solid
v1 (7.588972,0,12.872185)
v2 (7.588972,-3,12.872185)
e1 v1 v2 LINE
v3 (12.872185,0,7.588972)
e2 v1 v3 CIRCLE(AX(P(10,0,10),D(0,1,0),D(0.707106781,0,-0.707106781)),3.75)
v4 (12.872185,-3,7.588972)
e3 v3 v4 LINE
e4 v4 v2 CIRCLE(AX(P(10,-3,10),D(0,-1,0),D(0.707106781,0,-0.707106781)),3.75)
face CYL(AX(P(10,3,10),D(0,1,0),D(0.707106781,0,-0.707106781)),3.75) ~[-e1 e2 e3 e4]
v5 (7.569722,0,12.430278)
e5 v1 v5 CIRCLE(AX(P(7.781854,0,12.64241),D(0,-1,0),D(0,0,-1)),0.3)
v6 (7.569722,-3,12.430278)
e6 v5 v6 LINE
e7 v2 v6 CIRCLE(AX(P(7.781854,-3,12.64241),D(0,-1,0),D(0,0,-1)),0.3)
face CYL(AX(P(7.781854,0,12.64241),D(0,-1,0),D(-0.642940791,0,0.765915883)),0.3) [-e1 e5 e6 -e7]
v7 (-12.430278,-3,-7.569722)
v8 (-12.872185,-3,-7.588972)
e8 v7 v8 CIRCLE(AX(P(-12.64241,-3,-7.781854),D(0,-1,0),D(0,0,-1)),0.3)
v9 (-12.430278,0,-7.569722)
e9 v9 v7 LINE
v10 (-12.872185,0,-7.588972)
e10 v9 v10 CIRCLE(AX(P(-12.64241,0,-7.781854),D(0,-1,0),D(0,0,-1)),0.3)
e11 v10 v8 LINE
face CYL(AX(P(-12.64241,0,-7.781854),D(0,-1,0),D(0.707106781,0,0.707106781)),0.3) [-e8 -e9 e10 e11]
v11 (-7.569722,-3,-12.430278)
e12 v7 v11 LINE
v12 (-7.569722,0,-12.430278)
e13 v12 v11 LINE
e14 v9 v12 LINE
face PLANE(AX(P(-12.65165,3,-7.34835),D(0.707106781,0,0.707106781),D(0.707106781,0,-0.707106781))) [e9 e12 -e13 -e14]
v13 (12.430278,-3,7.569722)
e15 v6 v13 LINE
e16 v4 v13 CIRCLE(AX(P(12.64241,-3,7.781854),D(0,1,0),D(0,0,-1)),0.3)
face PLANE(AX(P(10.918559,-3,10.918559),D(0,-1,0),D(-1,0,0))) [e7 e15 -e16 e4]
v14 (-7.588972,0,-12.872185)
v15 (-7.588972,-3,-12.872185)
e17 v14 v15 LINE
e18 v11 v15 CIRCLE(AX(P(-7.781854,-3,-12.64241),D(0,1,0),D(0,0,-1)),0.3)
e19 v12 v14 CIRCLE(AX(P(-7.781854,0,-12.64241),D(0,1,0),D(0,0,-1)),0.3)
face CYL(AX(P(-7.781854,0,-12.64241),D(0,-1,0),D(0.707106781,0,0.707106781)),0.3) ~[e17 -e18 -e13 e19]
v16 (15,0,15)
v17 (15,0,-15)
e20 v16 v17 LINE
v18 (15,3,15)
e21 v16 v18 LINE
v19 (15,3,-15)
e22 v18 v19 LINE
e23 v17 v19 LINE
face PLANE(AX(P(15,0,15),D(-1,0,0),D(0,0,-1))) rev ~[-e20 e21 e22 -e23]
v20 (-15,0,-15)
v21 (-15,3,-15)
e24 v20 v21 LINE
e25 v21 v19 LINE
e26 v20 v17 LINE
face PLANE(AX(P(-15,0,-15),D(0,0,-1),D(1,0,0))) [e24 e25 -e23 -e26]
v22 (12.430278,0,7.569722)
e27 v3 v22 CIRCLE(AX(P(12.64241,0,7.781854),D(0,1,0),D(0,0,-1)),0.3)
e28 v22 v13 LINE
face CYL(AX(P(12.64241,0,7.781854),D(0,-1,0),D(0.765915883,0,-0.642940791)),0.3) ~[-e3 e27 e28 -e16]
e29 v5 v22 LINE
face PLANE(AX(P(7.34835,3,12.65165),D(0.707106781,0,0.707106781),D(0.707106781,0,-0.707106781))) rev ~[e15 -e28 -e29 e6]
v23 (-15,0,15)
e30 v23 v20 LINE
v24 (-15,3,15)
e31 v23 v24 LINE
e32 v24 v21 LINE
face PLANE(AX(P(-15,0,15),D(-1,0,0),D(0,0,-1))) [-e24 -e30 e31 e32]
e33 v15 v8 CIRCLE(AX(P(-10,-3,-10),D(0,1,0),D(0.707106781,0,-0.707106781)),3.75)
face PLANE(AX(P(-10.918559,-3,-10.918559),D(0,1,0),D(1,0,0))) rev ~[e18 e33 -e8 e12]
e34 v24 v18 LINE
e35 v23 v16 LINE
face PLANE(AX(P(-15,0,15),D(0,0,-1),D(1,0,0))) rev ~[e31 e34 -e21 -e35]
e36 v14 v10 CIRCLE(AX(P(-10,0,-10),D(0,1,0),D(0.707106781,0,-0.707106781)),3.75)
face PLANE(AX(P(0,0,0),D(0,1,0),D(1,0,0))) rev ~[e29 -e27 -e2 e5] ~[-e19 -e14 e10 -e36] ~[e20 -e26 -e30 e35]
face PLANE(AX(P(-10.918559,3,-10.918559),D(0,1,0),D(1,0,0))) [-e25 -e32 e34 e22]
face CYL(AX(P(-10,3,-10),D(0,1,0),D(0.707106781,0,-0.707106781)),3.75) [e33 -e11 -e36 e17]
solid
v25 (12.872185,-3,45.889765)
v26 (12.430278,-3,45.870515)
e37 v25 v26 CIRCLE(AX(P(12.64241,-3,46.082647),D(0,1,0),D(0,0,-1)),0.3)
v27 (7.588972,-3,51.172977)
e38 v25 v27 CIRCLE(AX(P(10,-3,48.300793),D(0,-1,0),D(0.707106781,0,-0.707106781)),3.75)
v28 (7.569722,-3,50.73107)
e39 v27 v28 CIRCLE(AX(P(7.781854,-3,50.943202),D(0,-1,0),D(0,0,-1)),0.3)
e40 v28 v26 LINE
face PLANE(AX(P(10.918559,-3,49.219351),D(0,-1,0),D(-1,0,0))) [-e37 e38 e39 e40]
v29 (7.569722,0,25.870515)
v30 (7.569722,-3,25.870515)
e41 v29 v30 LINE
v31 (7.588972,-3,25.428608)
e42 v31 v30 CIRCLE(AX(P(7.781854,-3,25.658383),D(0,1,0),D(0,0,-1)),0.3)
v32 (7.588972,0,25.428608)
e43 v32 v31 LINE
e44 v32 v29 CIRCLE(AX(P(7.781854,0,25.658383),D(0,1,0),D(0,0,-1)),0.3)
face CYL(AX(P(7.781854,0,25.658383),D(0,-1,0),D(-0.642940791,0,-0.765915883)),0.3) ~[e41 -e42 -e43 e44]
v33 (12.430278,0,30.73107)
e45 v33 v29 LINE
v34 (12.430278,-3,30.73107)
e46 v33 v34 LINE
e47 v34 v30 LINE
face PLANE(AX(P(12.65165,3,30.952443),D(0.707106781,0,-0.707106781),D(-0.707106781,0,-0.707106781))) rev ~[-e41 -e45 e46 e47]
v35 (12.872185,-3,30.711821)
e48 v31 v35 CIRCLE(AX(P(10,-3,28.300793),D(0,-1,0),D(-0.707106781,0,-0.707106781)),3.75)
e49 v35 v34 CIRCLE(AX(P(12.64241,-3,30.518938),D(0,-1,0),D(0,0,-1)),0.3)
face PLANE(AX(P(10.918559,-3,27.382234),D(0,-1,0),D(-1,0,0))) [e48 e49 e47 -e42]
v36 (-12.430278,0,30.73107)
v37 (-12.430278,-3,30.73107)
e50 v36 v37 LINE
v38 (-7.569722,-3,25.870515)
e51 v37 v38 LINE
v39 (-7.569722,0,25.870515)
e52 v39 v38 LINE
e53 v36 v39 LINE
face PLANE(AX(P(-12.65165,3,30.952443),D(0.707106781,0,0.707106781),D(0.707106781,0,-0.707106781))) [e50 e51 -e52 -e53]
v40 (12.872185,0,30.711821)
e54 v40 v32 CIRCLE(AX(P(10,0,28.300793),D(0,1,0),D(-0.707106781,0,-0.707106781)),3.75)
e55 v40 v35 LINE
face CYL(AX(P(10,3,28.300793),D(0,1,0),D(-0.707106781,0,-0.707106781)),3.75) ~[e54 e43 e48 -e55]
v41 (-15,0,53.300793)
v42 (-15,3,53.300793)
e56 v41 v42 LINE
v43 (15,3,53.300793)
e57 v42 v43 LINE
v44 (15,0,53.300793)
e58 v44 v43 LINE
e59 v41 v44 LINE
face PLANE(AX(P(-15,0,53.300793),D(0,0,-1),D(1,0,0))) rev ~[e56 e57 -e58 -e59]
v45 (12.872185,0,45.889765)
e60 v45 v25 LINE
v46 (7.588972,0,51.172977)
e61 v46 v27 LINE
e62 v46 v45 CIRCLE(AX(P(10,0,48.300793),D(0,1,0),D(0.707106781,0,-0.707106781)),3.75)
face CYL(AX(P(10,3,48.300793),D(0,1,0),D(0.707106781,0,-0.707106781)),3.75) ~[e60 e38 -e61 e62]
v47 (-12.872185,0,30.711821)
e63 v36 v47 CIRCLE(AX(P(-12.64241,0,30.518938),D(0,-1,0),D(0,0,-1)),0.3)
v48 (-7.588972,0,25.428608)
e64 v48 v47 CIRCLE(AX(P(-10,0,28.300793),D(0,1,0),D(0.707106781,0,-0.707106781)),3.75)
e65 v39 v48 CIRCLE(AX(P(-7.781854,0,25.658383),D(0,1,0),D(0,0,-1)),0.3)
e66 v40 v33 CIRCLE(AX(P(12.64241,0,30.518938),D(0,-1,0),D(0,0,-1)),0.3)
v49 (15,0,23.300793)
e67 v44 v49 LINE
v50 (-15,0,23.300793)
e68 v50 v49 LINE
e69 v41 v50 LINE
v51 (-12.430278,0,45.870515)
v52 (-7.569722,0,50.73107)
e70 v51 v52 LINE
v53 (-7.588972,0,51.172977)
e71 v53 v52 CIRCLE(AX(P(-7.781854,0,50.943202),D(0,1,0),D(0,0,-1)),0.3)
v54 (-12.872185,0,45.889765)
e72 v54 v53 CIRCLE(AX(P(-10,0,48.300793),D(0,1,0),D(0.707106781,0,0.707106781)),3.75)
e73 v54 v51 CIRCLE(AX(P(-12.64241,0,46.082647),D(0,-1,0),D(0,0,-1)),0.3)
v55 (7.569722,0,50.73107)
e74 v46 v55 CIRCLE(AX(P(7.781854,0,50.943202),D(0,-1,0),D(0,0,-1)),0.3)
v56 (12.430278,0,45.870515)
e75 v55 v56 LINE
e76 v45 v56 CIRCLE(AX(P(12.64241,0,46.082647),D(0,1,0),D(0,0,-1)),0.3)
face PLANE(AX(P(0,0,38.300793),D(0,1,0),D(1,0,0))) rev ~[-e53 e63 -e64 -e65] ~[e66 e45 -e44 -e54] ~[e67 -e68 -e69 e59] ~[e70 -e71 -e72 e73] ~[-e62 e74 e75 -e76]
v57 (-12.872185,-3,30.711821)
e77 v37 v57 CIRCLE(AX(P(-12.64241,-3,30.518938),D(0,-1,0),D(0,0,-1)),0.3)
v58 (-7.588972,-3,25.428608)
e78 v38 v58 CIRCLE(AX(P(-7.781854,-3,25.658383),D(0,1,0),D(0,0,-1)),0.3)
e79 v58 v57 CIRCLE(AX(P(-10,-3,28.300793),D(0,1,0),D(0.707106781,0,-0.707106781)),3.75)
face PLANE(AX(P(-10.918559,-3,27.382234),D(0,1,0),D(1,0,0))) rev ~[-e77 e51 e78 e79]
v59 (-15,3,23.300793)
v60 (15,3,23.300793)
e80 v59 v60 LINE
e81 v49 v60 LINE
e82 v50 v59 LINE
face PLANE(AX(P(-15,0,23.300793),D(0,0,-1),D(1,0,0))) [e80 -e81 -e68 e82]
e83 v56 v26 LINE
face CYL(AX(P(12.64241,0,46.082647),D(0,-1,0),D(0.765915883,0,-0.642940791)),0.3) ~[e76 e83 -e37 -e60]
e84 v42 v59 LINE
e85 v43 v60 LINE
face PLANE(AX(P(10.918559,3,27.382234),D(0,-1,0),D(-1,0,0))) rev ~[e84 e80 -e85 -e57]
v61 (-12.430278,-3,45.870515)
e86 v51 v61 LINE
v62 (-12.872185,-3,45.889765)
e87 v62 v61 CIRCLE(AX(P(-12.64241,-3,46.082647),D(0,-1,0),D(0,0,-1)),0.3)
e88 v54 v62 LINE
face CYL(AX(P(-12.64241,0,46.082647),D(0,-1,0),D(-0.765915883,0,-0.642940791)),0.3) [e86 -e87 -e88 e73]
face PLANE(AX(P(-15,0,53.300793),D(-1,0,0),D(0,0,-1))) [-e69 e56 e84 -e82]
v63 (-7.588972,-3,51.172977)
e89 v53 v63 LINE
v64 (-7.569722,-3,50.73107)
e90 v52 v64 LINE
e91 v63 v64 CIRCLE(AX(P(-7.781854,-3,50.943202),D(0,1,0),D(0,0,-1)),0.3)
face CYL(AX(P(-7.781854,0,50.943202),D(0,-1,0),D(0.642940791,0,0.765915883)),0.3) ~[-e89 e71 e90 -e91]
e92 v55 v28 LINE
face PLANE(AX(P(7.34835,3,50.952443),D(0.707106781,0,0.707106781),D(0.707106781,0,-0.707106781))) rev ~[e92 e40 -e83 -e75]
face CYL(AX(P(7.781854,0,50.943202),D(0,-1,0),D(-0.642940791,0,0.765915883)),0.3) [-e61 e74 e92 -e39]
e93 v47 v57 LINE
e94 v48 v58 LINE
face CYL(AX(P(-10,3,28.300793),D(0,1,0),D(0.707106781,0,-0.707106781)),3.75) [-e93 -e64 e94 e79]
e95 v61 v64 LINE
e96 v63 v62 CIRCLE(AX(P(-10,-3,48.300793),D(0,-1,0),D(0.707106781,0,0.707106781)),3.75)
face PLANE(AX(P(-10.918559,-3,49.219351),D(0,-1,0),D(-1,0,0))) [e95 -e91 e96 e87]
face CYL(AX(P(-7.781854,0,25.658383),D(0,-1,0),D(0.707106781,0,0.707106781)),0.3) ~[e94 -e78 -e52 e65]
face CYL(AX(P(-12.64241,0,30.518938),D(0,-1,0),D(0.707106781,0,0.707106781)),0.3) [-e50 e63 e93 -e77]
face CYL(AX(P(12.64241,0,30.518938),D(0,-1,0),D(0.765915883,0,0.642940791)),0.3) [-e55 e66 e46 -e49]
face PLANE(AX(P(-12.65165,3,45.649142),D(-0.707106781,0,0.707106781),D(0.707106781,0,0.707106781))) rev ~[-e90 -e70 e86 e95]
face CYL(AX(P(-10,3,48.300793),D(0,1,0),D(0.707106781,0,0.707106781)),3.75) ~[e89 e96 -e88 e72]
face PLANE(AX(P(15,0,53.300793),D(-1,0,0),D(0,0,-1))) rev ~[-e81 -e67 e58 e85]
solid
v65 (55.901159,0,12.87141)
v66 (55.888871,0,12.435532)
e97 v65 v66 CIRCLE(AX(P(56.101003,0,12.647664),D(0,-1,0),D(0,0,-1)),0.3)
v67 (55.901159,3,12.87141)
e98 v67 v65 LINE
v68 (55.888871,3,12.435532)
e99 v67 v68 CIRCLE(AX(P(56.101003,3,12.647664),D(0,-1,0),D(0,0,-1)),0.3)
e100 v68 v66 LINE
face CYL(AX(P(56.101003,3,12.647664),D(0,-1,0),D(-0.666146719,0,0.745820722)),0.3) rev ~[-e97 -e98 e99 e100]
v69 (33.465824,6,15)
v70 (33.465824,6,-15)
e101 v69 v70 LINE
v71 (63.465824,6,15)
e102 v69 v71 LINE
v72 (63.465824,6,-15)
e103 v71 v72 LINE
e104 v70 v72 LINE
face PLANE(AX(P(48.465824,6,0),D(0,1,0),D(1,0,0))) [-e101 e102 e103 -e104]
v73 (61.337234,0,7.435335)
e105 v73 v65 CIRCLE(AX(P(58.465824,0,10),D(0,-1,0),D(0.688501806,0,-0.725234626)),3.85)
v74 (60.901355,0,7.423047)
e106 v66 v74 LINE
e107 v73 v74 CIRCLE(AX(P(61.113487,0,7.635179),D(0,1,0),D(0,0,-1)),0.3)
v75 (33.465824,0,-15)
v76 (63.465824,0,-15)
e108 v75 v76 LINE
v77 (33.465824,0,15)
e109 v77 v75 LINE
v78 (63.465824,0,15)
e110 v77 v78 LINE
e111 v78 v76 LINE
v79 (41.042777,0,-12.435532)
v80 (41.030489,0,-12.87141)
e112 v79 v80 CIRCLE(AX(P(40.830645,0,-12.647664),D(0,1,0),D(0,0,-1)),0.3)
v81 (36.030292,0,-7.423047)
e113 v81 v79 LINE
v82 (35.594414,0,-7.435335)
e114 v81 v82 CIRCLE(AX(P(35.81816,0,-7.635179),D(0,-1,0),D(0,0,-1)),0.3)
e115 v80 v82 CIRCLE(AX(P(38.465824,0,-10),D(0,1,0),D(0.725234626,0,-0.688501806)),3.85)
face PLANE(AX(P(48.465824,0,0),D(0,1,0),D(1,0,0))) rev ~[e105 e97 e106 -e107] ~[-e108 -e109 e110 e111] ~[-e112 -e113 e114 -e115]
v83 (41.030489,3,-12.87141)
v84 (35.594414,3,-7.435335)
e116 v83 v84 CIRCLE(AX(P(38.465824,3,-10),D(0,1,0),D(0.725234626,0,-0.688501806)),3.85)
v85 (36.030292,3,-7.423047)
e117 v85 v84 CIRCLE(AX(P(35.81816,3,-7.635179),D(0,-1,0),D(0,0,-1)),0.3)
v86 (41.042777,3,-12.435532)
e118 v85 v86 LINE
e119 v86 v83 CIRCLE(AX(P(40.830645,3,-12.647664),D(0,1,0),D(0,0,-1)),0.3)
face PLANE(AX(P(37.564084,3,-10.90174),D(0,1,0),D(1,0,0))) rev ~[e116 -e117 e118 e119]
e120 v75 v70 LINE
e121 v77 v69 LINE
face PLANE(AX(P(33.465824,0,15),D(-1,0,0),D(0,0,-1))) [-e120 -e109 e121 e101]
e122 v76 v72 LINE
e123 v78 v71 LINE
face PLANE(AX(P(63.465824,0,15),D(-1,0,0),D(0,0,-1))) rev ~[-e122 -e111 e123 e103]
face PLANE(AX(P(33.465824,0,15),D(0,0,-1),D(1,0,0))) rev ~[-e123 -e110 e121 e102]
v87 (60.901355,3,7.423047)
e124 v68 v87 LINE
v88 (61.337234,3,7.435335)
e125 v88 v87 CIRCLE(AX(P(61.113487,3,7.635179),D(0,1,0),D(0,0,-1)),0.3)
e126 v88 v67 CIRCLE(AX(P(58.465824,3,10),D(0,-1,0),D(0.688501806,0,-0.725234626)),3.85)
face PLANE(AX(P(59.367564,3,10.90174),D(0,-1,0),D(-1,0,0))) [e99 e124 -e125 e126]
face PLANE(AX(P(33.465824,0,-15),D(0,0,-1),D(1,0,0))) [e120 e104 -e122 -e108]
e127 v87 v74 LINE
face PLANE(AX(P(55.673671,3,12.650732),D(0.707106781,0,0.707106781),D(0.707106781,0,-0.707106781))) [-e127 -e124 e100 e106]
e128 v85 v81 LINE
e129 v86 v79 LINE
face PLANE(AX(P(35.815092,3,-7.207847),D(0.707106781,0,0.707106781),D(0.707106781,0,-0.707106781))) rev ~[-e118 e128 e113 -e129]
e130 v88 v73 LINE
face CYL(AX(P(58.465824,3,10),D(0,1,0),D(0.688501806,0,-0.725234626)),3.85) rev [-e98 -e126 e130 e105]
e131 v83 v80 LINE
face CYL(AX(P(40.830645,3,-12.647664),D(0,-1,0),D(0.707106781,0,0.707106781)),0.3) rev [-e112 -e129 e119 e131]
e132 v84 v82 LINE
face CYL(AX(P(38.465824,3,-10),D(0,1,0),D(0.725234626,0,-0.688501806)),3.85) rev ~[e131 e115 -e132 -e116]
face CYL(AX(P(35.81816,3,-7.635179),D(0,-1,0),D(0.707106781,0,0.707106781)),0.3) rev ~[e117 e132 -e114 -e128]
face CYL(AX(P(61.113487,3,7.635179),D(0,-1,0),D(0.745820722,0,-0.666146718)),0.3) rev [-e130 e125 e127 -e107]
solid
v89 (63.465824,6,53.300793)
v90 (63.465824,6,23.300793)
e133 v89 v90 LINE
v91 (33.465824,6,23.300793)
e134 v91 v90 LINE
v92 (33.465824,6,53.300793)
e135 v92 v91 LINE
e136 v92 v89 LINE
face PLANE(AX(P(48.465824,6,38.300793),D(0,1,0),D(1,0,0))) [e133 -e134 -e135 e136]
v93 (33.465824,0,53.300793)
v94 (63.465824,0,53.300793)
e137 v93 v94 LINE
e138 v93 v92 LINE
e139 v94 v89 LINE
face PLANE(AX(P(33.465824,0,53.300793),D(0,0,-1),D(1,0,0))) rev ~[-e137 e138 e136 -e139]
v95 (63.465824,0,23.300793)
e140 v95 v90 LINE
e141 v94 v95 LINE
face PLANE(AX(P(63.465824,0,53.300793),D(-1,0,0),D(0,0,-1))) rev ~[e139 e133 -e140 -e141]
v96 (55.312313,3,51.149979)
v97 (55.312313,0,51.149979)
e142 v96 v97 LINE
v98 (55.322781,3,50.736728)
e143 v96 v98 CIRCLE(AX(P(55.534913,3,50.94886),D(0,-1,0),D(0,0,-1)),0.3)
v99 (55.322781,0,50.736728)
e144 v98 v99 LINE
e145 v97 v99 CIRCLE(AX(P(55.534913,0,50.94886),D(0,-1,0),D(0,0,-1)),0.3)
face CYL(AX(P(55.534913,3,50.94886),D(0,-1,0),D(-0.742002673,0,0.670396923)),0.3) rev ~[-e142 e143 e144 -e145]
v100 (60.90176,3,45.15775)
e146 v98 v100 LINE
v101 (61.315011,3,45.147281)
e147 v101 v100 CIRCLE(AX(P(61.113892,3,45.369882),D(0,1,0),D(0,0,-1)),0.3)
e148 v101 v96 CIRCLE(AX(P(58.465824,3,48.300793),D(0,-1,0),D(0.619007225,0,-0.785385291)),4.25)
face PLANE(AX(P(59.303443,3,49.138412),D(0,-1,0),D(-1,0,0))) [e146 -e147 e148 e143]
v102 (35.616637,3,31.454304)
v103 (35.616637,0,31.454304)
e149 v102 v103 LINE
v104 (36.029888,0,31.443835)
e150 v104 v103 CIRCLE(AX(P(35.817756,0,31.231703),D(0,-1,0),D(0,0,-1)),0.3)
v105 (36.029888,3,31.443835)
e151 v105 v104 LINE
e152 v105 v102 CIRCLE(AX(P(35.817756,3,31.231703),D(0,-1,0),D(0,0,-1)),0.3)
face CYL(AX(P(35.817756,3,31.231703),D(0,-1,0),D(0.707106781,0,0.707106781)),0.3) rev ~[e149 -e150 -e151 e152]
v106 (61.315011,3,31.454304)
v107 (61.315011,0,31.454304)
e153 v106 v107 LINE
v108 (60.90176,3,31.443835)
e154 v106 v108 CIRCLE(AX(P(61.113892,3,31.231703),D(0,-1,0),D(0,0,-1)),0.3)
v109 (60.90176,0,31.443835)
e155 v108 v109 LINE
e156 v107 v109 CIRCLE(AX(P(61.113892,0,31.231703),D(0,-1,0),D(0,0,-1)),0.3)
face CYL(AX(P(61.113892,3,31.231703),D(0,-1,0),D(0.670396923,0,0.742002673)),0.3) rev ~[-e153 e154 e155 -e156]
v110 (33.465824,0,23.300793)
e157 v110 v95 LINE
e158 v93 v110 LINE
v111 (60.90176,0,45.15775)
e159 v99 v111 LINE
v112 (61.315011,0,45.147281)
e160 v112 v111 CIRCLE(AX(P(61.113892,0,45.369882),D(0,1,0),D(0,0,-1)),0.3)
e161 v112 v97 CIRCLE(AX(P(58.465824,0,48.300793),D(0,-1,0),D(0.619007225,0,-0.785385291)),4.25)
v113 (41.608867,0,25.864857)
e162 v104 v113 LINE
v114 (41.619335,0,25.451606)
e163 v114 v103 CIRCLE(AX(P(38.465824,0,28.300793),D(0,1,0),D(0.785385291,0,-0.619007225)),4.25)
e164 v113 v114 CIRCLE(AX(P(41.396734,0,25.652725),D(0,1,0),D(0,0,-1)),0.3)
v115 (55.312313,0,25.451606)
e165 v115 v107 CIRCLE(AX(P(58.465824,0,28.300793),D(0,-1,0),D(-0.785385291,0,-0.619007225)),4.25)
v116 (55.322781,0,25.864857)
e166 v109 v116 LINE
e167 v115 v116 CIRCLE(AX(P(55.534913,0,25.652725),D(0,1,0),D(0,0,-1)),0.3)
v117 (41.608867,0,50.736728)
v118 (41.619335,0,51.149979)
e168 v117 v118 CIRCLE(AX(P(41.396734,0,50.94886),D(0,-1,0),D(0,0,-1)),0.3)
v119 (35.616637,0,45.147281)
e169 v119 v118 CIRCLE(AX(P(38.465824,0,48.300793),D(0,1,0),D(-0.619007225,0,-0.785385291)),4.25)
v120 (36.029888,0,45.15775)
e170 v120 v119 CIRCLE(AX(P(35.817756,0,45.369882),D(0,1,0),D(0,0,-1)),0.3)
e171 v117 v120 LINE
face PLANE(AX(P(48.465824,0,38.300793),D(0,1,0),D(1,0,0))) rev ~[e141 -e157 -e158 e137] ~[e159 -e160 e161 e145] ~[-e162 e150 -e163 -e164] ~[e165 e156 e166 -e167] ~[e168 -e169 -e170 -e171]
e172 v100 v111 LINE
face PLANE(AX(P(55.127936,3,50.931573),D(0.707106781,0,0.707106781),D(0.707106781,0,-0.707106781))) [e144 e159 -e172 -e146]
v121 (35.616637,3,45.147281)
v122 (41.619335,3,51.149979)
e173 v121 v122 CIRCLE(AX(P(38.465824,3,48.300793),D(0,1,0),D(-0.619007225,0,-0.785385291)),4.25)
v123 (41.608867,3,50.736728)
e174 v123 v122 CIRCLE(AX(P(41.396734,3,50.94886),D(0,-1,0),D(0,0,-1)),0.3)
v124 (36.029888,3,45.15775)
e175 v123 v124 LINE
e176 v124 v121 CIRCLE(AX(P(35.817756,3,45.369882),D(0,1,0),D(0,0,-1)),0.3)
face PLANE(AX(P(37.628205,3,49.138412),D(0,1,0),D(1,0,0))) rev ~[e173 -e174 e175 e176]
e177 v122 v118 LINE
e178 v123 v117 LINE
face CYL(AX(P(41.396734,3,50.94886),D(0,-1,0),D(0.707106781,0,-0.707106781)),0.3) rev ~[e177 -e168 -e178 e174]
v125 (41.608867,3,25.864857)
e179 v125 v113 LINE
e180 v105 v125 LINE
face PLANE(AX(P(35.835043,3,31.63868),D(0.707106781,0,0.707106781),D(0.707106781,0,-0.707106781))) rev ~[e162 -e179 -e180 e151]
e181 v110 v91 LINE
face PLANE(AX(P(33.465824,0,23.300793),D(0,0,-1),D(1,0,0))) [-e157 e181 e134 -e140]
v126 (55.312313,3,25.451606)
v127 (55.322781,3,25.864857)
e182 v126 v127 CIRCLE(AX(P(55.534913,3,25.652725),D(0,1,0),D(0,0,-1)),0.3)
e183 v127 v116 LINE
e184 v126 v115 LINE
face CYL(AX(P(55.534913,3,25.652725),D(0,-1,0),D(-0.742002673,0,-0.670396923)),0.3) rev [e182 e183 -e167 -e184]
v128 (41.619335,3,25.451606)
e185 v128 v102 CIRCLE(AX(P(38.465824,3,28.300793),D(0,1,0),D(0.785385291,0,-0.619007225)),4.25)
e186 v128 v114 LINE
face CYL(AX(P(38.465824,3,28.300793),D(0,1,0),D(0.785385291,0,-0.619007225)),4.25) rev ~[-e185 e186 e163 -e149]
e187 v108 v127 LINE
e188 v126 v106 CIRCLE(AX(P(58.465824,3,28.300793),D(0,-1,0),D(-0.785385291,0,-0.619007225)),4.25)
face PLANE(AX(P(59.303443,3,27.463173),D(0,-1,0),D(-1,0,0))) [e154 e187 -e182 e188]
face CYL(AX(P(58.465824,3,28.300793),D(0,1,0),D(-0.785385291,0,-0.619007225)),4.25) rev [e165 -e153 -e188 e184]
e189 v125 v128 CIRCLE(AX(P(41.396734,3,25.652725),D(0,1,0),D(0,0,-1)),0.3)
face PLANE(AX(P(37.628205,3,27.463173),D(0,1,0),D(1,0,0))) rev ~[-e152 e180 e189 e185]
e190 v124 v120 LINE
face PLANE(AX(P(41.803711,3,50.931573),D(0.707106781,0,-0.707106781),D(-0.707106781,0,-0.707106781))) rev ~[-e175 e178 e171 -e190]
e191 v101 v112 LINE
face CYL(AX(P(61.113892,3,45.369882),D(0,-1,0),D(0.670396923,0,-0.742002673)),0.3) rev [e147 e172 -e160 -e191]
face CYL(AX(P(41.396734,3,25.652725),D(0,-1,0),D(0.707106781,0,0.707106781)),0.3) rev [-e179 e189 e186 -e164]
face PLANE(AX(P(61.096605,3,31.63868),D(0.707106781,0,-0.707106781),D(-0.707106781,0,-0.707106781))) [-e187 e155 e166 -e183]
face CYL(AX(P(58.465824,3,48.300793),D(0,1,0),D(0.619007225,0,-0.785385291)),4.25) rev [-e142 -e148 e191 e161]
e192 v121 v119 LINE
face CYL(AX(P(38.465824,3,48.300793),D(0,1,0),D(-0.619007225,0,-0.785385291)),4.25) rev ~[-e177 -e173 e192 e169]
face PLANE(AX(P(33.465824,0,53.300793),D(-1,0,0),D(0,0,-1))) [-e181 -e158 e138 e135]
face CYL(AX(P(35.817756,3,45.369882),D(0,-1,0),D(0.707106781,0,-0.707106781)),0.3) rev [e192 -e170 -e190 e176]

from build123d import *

# Parameters (mm, degrees)
SKETCH3_W           = 30
SKETCH3_H           = 30
BOSS_EXTRUDE1_DEPTH = 3
BOSS_EXTRUDE2_DEPTH = 6
SKETCH5_W           = 30
SKETCH5_H           = 30
BOSS_EXTRUDE4_DEPTH = 6
FILLET3_R           = 0.3
CUT_EXTRUDE2_START  = -3
CUT_EXTRUDE2_DEPTH  = 3
SKETCH17_W          = 30
SKETCH17_H          = 30
BOSS_EXTRUDE6_DEPTH = 3
BOSS_EXTRUDE7_DEPTH = 6
SKETCH20_W          = 30
SKETCH20_H          = 30
BOSS_EXTRUDE8_DEPTH = 6
CUT_EXTRUDE3_START  = -3
CUT_EXTRUDE3_DEPTH  = 3
FILLET4_R           = 0.3
FILLET5_R           = 0.3
FILLET6_R           = 0.3


with BuildPart() as part:
    # Sketch3 → Boss-Extrude1 (new body)
    with BuildSketch(Plane(origin=(0, 0, 0), x_dir=(1, 0, 0), z_dir=(0, 1, 0))):
        Rectangle(SKETCH3_W, SKETCH3_H)
    extrude(amount=BOSS_EXTRUDE1_DEPTH)

    # Sketch1 → Boss-Extrude2 (add)
    with BuildSketch(Plane(origin=(0, 3, 0), x_dir=(1, 0, 0), z_dir=(0, 1, 0))):
        with BuildLine():
            Line((-12.651650429, 7.348349571), (-7.348349571, 12.651650429))
            ThreePointArc((-7.348349571, 12.651650429), (-12.651650429, 12.651650429), (-12.651650429, 7.348349571))
        make_face()
        with BuildLine():
            Line((7.348349571, -12.651650429), (12.651650429, -7.348349571))
            ThreePointArc((12.651650429, -7.348349571), (12.651650429, -12.651650429), (7.348349571, -12.651650429))
        make_face()
    extrude(amount=-BOSS_EXTRUDE2_DEPTH)

    # Fillet3
    fillet3_edges = [part.edges().sort_by_distance(p)[0] for p in [
        (-12.651650429, -1.5, -7.348349571),
        (-7.348349571, -1.5, -12.651650429),
        (12.651650429, -1.5, 7.348349571),
        (7.348349571, -1.5, 12.651650429),
    ]]
    fillet(fillet3_edges, radius=FILLET3_R)


with BuildPart() as body_2:
    # Sketch5 → Boss-Extrude4 (new body)
    with BuildSketch(Plane(origin=(0, 0, 0), x_dir=(1, 0, 0), z_dir=(0, 1, 0))):
        with Locations((48.465823931, 0)):
            Rectangle(SKETCH5_W, SKETCH5_H)
    extrude(amount=BOSS_EXTRUDE4_DEPTH)

    # Sketch16 → Cut-Extrude2 (cut)
    with BuildSketch(Plane(origin=(0, 6, 0), x_dir=(1, 0, 0), z_dir=(0, 1, 0)).offset(CUT_EXTRUDE2_START)):
        with BuildLine():
            Line((35.815091977, 7.20784669), (41.257977241, 12.650731954))
            ThreePointArc((41.257977241, 12.650731954), (35.743462823, 12.722361108), (35.815091977, 7.20784669))
        make_face()
        with BuildLine():
            Line((55.67367062, -12.650731954), (61.116555885, -7.20784669))
            ThreePointArc((61.116555885, -7.20784669), (61.188185038, -12.722361108), (55.67367062, -12.650731954))
        make_face()
    extrude(amount=-CUT_EXTRUDE2_DEPTH, mode=Mode.SUBTRACT)

    # Fillet4
    fillet4_edges = [body_2.edges().sort_by_distance(p)[0] for p in [
        (35.815091977, 1.5, -7.20784669),
        (41.257977241, 1.5, -12.650731954),
        (61.116555885, 1.5, 7.20784669),
        (55.67367062, 1.5, 12.650731954),
    ]]
    fillet(fillet4_edges, radius=FILLET4_R)


with BuildPart() as body_3:
    # Sketch17 → Boss-Extrude6 (new body)
    with BuildSketch(Plane(origin=(0, 0, 0), x_dir=(1, 0, 0), z_dir=(0, 1, 0))):
        with Locations((0, -38.300792551)):
            Rectangle(SKETCH17_W, SKETCH17_H)
    extrude(amount=BOSS_EXTRUDE6_DEPTH)

    # Sketch19 → Boss-Extrude7 (add)
    with BuildSketch(Plane(origin=(0, 3, 0), x_dir=(1, 0, 0), z_dir=(0, 1, 0))):
        with BuildLine():
            Line((12.651650429, -30.952442981), (7.348349571, -25.649142122))
            ThreePointArc((7.348349571, -25.649142122), (12.651650429, -25.649142122), (12.651650429, -30.952442981))
        make_face()
        with BuildLine():
            Line((7.348349571, -50.952442981), (12.651650429, -45.649142122))
            ThreePointArc((12.651650429, -45.649142122), (12.651650429, -50.952442981), (7.348349571, -50.952442981))
        make_face()
        with BuildLine():
            ThreePointArc((-7.348349571, -50.952442981), (-12.651650429, -50.952442981), (-12.651650429, -45.649142122))
            Line((-12.651650429, -45.649142122), (-7.348349571, -50.952442981))
        make_face()
        with BuildLine():
            Line((-12.651650429, -30.952442981), (-7.348349571, -25.649142122))
            ThreePointArc((-7.348349571, -25.649142122), (-12.651650429, -25.649142122), (-12.651650429, -30.952442981))
        make_face()
    extrude(amount=-BOSS_EXTRUDE7_DEPTH)

    # Fillet5
    fillet5_edges = [body_3.edges().sort_by_distance(p)[0] for p in [
        (12.651650429, -1.5, 30.952442981),
        (7.348349571, -1.5, 25.649142122),
        (7.348349571, -1.5, 50.952442981),
        (12.651650429, -1.5, 45.649142122),
        (-7.348349571, -1.5, 50.952442981),
        (-12.651650429, -1.5, 45.649142122),
        (-7.348349571, -1.5, 25.649142122),
        (-12.651650429, -1.5, 30.952442981),
    ]]
    fillet(fillet5_edges, radius=FILLET5_R)


with BuildPart() as body_4:
    # Sketch20 → Boss-Extrude8 (new body)
    with BuildSketch(Plane(origin=(0, 0, 0), x_dir=(1, 0, 0), z_dir=(0, 1, 0))):
        with Locations((48.465823931, -38.300792551)):
            Rectangle(SKETCH20_W, SKETCH20_H)
    extrude(amount=BOSS_EXTRUDE8_DEPTH)

    # Sketch21 → Cut-Extrude3 (cut)
    with BuildSketch(Plane(origin=(0, 6, 0), x_dir=(1, 0, 0), z_dir=(0, 1, 0)).offset(CUT_EXTRUDE3_START)):
        with BuildLine():
            Line((55.127936444, -50.931573257), (61.096604637, -44.962905064))
            ThreePointArc((61.096604637, -44.962905064), (61.471027751, -51.305996371), (55.127936444, -50.931573257))
        make_face()
        with BuildLine():
            Line((61.096604637, -31.638680038), (55.127936444, -25.670011845))
            ThreePointArc((55.127936444, -25.670011845), (61.471027751, -25.295588731), (61.096604637, -31.638680038))
        make_face()
        with BuildLine():
            Line((41.803711418, -50.931573257), (35.835043225, -44.962905064))
            ThreePointArc((35.835043225, -44.962905064), (35.460620111, -51.305996371), (41.803711418, -50.931573257))
        make_face()
        with BuildLine():
            Line((35.835043225, -31.638680038), (41.803711418, -25.670011845))
            ThreePointArc((41.803711418, -25.670011845), (35.460620111, -25.295588731), (35.835043225, -31.638680038))
        make_face()
    extrude(amount=-CUT_EXTRUDE3_DEPTH, mode=Mode.SUBTRACT)

    # Fillet6
    fillet6_edges = [body_4.edges().sort_by_distance(p)[0] for p in [
        (35.835043225, 1.5, 31.638680038),
        (41.803711418, 1.5, 25.670011845),
        (41.803711418, 1.5, 50.931573257),
        (35.835043225, 1.5, 44.962905064),
        (55.127936444, 1.5, 50.931573257),
        (61.096604637, 1.5, 44.962905064),
        (55.127936444, 1.5, 25.670011845),
        (61.096604637, 1.5, 31.638680038),
    ]]
    fillet(fillet6_edges, radius=FILLET6_R)


solid = Compound([part.part, body_2.part, body_3.part, body_4.part])
